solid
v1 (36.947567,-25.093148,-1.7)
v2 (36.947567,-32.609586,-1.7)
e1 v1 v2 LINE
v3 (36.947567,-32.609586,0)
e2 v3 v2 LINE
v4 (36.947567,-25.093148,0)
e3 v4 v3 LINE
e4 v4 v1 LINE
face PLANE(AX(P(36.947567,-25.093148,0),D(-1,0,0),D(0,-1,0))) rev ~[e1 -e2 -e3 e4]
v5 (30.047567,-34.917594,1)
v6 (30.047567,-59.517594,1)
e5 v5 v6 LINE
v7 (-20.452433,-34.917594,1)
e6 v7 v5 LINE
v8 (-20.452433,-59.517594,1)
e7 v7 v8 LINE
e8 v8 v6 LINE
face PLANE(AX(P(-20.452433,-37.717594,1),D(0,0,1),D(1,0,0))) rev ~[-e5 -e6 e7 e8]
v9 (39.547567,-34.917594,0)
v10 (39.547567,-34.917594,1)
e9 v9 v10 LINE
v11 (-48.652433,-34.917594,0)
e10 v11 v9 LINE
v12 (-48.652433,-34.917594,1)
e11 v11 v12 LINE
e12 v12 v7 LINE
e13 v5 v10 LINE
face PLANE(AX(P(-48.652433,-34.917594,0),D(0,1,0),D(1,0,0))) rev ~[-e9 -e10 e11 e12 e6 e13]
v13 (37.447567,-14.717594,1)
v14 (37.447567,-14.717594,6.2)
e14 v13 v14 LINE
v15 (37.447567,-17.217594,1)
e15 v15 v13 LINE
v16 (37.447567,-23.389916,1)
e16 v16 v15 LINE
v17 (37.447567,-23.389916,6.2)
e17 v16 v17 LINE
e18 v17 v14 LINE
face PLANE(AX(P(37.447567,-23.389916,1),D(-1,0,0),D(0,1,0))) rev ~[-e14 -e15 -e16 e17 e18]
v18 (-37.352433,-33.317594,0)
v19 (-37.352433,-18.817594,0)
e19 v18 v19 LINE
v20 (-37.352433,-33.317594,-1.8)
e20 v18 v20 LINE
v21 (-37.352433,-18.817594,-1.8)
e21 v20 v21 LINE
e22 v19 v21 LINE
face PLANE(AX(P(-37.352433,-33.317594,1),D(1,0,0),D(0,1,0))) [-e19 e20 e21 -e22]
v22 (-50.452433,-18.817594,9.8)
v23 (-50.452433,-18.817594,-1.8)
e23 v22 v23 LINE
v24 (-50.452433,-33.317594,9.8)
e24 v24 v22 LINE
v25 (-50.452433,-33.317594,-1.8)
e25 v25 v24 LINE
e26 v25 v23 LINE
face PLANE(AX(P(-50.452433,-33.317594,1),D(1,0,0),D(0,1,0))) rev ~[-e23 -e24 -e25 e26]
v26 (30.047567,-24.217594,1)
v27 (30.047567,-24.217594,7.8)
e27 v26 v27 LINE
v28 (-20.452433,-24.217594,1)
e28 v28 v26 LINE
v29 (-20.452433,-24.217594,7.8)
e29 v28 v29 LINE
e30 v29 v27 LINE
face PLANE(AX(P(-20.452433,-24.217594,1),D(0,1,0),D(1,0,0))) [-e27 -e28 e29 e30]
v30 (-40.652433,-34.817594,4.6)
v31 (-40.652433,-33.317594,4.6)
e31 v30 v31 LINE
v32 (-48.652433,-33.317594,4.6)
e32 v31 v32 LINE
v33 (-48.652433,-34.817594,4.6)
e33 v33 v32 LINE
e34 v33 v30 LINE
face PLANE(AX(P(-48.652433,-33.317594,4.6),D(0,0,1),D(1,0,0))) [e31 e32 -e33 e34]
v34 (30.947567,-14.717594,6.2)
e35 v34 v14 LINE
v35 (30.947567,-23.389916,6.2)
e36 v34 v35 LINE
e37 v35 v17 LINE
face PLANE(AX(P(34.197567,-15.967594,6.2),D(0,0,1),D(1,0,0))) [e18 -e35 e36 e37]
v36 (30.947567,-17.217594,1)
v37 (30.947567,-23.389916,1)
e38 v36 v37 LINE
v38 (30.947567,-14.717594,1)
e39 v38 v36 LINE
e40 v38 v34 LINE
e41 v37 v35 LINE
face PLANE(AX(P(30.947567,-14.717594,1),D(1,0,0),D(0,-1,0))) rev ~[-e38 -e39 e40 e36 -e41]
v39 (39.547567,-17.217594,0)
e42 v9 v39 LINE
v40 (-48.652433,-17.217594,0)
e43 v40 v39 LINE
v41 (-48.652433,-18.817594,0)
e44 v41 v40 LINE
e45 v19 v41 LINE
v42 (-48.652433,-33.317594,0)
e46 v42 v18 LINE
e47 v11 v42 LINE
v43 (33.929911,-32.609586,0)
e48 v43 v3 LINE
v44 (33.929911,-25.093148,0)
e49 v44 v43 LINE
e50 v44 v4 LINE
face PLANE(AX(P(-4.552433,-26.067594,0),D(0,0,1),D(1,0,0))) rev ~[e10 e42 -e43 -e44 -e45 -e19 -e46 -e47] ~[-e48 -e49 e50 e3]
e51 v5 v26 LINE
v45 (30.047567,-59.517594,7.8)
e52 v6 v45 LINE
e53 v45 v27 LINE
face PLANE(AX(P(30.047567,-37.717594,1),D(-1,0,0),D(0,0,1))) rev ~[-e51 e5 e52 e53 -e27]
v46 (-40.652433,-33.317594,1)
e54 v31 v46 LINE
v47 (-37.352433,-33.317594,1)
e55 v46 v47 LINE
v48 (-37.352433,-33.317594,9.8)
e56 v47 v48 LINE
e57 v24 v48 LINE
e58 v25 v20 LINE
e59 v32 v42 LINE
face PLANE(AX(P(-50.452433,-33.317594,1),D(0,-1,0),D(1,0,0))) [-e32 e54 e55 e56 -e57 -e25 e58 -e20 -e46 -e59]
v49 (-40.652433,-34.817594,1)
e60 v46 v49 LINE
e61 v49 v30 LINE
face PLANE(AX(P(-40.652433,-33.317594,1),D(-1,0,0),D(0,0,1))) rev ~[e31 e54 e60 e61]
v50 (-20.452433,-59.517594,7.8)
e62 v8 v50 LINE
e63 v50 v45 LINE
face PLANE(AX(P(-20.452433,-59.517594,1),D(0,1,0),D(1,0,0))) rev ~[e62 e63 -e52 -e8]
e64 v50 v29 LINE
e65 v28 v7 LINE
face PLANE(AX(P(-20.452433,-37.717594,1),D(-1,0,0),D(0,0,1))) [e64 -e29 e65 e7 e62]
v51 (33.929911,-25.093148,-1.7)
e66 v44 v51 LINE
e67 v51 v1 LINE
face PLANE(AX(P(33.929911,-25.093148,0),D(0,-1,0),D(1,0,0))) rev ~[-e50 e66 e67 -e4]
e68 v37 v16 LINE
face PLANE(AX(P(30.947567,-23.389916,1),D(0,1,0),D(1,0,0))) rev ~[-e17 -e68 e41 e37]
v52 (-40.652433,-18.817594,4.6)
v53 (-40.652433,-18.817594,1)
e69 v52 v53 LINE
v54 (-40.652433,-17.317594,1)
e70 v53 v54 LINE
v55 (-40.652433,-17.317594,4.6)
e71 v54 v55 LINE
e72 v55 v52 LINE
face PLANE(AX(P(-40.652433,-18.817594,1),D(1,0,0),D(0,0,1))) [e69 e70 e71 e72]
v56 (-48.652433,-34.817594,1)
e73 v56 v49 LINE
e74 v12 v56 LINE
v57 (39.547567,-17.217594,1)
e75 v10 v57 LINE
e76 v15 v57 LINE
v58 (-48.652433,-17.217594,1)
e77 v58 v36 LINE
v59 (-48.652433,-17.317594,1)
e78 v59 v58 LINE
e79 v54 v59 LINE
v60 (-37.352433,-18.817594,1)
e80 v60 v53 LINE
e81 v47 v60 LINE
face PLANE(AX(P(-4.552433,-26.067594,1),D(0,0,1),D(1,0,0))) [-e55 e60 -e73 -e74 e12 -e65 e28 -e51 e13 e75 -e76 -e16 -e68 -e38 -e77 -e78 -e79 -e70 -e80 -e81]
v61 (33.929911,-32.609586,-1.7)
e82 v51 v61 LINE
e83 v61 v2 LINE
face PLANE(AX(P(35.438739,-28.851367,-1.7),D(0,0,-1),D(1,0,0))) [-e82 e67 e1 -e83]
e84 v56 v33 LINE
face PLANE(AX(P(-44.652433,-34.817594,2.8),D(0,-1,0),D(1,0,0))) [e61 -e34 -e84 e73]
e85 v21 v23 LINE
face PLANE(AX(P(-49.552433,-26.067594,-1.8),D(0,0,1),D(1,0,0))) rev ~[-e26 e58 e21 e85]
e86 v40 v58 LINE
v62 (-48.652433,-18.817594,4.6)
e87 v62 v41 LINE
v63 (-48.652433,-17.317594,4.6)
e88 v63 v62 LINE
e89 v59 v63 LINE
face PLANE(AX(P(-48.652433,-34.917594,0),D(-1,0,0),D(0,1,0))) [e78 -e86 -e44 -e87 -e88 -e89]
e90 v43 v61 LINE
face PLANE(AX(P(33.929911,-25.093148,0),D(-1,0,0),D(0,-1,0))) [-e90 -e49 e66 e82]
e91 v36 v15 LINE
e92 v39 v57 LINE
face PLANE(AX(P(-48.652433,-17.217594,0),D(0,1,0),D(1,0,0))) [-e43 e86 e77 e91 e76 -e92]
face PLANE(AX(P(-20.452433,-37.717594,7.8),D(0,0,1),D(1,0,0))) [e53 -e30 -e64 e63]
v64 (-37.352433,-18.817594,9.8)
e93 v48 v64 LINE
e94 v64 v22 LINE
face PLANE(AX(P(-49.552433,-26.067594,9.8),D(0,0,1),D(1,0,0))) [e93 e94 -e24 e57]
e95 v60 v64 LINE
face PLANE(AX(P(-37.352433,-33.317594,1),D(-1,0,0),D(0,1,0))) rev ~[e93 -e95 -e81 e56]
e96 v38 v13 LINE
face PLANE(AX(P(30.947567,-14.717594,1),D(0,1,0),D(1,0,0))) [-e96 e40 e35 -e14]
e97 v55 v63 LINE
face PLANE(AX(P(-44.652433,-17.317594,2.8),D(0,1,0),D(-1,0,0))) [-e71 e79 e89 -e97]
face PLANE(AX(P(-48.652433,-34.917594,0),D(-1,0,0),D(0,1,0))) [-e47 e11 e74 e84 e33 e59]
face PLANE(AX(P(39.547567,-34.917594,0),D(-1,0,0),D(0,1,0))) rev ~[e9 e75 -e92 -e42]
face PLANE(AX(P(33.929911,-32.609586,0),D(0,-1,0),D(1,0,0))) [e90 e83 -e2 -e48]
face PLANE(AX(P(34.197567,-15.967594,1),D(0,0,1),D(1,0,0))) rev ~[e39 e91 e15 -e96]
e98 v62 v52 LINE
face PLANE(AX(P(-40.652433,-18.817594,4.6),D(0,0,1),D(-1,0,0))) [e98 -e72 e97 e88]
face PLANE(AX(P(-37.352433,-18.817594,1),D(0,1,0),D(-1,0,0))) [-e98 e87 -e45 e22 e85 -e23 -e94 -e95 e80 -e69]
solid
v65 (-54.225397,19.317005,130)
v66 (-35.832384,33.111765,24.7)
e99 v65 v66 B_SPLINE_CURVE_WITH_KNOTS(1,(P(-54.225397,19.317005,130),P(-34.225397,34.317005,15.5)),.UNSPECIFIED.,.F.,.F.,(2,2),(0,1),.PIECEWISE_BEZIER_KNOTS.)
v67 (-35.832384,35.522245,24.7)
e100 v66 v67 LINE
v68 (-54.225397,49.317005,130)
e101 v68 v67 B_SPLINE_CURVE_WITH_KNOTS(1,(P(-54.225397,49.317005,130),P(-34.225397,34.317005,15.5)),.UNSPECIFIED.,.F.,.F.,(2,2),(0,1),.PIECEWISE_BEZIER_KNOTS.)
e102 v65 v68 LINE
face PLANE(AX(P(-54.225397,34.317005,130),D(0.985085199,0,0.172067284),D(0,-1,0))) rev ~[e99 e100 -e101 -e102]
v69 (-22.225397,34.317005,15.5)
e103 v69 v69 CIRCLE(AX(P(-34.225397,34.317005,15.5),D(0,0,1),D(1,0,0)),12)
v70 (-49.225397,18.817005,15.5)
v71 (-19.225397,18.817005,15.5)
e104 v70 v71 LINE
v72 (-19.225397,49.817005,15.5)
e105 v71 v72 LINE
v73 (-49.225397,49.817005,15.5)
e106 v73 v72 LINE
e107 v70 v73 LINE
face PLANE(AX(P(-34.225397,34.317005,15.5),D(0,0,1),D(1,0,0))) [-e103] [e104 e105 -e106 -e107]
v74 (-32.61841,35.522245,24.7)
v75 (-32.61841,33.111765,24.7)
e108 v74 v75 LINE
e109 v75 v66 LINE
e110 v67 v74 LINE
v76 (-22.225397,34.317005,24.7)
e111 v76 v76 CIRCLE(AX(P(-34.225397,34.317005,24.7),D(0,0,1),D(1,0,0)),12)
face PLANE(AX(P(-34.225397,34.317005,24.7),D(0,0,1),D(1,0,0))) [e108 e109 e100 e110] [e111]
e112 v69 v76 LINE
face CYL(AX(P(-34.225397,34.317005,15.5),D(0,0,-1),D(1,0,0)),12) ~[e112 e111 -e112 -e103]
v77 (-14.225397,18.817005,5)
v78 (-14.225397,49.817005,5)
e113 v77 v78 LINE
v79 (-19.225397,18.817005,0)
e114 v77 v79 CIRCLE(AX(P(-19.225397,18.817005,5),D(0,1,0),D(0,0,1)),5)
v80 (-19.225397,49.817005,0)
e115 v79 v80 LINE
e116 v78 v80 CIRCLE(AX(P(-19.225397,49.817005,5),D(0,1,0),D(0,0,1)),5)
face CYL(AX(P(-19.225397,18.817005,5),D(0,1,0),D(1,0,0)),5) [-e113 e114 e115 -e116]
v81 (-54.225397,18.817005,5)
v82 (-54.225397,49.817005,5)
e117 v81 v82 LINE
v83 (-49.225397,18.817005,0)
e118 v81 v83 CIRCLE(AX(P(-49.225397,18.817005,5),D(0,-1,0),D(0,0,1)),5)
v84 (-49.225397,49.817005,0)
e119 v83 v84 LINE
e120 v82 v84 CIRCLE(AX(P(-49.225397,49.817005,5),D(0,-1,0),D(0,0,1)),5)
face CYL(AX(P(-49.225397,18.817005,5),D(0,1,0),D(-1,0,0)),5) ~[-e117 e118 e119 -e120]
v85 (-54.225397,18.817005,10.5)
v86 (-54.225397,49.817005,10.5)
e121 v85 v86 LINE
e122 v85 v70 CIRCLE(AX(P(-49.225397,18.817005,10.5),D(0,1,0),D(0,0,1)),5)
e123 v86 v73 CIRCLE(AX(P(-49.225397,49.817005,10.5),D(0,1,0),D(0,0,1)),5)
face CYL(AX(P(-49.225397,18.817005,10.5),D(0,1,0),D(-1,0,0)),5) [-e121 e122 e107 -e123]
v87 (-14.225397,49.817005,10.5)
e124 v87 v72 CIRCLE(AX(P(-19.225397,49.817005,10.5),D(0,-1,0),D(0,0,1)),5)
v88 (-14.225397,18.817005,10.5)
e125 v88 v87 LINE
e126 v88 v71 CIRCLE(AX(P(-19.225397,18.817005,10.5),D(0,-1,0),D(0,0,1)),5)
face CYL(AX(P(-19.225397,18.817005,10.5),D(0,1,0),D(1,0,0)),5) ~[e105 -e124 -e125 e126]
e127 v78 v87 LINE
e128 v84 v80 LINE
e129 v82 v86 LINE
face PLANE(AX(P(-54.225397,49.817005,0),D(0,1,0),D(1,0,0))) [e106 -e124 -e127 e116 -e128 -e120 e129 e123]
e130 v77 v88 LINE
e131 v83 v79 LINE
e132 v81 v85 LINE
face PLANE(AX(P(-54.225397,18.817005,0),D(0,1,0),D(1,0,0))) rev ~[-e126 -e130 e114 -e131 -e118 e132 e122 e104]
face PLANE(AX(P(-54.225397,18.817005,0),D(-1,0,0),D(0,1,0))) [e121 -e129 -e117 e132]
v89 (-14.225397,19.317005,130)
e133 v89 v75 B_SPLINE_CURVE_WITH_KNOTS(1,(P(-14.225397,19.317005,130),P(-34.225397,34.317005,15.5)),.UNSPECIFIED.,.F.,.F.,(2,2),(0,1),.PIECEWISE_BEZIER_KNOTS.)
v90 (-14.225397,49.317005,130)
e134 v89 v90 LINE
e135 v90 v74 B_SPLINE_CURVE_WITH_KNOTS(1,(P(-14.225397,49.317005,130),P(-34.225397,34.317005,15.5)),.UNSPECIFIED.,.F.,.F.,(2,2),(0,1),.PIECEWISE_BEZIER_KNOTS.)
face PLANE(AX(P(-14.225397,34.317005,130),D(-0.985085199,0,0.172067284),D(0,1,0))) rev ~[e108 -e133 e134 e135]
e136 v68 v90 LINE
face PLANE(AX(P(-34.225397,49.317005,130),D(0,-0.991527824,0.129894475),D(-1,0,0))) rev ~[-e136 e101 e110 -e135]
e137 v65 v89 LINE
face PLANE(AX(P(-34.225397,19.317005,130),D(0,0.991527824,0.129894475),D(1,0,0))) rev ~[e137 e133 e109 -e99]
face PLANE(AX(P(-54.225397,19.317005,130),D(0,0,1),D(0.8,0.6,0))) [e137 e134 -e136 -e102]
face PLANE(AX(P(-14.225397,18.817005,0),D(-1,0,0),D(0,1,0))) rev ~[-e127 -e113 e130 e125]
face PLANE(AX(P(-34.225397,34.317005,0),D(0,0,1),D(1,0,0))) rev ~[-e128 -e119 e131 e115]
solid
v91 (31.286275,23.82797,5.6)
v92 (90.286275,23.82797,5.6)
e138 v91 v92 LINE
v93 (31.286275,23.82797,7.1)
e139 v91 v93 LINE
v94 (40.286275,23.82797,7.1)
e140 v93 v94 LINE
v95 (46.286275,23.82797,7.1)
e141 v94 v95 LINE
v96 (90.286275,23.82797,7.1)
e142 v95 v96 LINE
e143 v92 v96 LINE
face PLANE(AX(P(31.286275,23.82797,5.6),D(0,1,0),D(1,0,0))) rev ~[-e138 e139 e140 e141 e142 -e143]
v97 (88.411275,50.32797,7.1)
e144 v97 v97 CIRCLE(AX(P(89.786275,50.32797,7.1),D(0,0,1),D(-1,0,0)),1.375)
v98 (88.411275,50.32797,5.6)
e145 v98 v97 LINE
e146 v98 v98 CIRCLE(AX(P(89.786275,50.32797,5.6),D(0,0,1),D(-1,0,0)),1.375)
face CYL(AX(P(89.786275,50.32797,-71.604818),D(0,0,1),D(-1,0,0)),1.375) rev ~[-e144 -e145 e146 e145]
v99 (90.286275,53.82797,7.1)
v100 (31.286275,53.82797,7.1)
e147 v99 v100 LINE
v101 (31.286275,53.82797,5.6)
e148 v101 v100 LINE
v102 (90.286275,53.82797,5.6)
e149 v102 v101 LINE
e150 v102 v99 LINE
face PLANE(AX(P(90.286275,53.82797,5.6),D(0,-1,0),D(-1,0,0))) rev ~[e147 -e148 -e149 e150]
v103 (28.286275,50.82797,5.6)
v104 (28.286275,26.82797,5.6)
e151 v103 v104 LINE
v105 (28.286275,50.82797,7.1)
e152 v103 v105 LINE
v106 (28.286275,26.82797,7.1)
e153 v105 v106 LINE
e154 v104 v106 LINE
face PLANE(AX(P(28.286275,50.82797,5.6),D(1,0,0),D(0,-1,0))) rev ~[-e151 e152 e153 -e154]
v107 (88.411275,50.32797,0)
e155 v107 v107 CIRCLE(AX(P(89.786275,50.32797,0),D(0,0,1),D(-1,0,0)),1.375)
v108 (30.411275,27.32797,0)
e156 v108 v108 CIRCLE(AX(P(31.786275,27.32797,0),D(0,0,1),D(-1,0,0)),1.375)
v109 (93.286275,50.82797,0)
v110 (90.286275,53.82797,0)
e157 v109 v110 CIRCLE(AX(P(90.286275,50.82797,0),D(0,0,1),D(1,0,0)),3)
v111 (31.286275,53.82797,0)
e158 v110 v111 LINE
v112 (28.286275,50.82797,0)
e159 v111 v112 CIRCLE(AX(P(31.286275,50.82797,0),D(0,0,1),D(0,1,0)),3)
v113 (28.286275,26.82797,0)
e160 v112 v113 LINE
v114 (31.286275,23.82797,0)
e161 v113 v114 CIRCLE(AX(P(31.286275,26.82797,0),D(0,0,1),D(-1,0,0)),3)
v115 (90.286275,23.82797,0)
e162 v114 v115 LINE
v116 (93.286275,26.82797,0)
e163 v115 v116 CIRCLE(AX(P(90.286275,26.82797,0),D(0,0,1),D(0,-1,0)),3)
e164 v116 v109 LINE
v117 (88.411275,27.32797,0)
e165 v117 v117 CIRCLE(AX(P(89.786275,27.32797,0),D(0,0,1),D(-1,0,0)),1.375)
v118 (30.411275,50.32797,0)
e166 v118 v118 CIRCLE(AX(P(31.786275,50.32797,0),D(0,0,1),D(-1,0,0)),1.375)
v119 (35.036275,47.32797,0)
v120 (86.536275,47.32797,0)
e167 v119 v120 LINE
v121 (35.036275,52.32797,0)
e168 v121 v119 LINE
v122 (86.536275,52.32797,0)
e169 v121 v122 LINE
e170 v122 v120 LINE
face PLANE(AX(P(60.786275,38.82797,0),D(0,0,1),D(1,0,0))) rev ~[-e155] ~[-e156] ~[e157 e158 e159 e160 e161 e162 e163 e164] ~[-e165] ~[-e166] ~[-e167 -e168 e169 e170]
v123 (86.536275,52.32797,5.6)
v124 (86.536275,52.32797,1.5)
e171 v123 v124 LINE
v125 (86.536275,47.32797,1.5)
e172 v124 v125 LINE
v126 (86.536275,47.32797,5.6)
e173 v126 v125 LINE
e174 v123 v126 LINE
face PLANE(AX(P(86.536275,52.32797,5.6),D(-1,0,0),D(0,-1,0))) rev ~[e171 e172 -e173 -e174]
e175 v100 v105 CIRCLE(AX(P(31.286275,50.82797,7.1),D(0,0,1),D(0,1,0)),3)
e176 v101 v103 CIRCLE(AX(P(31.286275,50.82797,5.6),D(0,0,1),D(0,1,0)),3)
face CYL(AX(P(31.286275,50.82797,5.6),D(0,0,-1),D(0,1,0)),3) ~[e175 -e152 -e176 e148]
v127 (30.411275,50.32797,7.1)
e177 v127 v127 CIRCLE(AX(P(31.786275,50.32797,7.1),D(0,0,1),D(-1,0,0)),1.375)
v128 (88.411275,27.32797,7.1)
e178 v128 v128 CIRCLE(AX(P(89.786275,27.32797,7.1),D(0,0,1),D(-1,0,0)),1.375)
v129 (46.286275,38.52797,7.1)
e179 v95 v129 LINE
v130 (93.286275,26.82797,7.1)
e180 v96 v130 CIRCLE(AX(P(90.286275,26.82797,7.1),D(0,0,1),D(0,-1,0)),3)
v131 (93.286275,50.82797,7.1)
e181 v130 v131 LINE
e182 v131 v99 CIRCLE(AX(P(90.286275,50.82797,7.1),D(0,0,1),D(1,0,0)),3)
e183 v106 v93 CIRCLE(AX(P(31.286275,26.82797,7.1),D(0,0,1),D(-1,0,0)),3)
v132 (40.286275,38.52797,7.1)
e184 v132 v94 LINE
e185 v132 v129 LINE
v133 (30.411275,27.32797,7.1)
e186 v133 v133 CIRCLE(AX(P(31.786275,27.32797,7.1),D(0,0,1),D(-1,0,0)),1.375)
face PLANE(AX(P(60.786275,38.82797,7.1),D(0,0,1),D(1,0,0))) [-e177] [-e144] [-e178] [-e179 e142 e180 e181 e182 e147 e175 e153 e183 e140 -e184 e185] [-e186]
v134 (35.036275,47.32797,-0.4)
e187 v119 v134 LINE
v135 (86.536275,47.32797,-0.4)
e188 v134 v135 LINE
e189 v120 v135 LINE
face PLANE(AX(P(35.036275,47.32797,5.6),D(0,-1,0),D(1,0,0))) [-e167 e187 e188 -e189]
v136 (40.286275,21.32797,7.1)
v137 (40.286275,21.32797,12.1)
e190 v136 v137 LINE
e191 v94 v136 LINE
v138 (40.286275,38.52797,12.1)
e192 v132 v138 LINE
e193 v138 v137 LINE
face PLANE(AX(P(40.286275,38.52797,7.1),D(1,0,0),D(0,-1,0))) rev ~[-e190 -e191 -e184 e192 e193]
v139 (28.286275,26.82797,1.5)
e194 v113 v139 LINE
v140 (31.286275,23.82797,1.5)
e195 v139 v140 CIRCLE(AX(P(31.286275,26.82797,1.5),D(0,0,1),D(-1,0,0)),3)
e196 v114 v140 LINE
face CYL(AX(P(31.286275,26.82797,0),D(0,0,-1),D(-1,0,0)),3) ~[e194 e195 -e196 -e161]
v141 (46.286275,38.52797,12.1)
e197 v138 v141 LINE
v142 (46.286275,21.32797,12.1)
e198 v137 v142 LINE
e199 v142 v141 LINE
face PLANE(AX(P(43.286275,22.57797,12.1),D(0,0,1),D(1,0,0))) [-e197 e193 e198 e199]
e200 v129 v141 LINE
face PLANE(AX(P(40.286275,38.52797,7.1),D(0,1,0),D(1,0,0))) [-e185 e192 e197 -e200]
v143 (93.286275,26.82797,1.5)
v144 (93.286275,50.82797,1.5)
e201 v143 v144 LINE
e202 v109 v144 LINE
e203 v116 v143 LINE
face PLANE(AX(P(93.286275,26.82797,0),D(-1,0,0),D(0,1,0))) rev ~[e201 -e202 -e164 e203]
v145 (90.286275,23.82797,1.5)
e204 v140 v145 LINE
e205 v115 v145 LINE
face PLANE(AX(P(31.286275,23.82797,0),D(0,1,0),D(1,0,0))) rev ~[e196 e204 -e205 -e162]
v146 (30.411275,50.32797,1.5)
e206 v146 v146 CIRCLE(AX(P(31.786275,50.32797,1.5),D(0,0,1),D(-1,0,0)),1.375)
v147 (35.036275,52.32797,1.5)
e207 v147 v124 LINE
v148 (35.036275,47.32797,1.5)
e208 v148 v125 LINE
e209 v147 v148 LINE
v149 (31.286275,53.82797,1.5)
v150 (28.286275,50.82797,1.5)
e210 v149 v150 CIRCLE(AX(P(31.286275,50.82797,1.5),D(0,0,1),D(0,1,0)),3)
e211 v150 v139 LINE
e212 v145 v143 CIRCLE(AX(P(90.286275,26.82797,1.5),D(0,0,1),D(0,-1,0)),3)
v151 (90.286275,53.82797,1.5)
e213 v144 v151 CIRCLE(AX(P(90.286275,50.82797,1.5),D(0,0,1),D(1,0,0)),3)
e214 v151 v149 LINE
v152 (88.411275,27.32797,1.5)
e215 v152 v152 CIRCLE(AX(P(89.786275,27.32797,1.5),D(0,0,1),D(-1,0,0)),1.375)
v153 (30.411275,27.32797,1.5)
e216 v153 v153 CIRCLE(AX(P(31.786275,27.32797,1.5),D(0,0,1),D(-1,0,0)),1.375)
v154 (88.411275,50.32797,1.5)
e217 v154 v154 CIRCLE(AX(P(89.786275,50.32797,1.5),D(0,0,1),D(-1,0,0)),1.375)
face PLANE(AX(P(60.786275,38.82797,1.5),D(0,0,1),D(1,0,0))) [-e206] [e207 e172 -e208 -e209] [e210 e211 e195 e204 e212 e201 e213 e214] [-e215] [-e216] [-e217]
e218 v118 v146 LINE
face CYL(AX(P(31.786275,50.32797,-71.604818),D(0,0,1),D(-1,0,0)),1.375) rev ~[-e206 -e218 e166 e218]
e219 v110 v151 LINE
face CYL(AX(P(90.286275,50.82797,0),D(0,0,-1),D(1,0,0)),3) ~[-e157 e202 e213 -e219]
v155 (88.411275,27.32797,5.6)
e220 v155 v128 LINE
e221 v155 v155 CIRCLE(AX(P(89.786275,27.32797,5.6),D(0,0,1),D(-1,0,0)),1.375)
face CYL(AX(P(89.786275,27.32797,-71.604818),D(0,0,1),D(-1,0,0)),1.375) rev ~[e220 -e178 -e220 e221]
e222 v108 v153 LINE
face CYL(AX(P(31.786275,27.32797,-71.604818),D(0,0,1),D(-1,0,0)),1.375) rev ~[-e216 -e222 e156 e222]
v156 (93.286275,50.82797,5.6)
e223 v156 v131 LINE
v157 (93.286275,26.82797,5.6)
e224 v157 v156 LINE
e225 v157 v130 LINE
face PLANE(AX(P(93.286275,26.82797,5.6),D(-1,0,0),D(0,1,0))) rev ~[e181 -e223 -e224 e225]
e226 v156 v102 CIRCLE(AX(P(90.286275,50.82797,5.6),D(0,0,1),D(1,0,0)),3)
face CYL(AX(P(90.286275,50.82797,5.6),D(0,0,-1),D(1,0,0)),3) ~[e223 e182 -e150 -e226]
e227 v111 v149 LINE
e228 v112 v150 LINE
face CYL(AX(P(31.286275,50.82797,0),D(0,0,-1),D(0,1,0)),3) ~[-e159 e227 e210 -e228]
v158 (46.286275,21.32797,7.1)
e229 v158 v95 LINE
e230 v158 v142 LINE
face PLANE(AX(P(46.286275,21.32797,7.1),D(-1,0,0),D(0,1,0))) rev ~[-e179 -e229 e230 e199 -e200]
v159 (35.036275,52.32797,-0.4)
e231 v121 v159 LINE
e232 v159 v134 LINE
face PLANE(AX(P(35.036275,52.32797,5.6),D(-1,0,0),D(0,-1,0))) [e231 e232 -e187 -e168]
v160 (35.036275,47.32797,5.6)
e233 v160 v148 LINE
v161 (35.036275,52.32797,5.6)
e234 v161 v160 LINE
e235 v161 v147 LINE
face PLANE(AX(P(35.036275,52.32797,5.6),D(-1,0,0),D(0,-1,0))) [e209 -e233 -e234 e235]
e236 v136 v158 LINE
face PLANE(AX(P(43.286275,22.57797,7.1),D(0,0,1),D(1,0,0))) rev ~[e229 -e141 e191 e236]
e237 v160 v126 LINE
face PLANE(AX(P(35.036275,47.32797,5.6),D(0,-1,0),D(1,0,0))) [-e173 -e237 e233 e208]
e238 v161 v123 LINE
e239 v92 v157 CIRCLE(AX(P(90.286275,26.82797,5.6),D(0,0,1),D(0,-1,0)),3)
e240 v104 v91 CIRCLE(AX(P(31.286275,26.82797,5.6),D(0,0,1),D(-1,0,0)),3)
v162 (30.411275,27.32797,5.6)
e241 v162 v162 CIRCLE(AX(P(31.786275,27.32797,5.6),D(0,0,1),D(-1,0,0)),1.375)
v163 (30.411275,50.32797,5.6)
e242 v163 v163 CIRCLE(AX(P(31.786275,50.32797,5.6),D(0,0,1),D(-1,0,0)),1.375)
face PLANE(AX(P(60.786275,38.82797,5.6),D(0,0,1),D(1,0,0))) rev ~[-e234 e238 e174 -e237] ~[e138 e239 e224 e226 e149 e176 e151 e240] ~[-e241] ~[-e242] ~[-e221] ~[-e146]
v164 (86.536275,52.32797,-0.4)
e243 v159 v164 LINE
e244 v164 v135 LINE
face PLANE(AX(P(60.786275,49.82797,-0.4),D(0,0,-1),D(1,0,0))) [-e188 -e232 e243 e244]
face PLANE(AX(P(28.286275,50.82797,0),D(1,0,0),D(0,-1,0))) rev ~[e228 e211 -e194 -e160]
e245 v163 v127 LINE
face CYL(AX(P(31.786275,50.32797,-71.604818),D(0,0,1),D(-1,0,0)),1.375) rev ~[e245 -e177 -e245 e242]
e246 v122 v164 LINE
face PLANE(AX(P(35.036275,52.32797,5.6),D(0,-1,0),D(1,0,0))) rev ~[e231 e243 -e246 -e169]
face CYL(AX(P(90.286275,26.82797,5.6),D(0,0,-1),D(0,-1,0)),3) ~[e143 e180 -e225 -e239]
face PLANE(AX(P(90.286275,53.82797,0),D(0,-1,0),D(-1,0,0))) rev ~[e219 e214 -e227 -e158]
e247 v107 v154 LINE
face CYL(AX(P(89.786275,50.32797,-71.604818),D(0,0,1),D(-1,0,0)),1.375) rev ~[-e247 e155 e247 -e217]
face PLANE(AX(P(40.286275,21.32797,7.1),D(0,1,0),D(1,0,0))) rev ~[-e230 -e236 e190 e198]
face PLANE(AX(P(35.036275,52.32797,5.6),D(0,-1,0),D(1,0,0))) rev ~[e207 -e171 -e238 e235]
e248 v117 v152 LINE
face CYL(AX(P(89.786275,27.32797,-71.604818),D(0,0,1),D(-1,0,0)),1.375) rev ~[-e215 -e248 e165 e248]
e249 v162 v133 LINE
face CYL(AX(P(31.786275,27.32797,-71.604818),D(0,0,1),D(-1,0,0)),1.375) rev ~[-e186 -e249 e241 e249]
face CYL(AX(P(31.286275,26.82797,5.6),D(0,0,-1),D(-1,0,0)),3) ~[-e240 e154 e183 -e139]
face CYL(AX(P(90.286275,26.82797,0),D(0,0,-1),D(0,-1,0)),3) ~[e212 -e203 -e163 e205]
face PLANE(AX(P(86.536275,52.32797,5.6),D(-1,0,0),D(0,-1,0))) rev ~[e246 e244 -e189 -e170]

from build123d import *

# Parameters (mm, degrees)
F0_W      = 40
F0_H      = 31
F1_DEPTH  = 15.5
F2_R      = 5
F3_R      = 12
F4_DEPTH  = 9.2
F5_W      = 88.2
F5_H      = 17.7
F6_DEPTH  = 1
F7_W      = 50.5
F7_H      = 2.8
F7_H_2    = 10.7
F8_DEPTH  = 6.8
F9_DEPTH  = 21.8
F10_W     = 1.8
F10_H     = 14.5
F10_W_2   = 11.3
F11_DEPTH = 8.8
F12_DEPTH = 2.8
F13_W     = 6.5
F13_H     = 2.5
F13_H_2   = 6.1723221527
F14_DEPTH = 5.2
F15_W     = 3.0176565558
F15_H     = 7.5164381415
F16_DEPTH = 1.7
F18_DEPTH = 1.5
F21_DEPTH = 1.5
F22_D     = 2.75
F22_2_D   = 2.75
F23_W     = 51.5
F23_H     = 5
F24_DEPTH = 6
F25_W     = 6
F25_H     = 2.5
F25_H_2   = 14.7
F26_DEPTH = 5
F30_W     = 40
F30_H     = 30
F32_W     = 8
F32_H     = 3.6
F33_W     = 8
F33_H     = 3.6
F34_DEPTH = 1.5


with BuildPart() as f1:
    # F0 (on Top) → F1 (new body)
    with BuildSketch(Plane.XY):
        with Locations((-34.2253973186, 34.3170047009)):
            Rectangle(F0_W, F0_H)
    extrude(amount=F1_DEPTH)

    # F2
    f2_edges = [f1.edges().sort_by_distance(p)[0] for p in [
        (-14.225397, 34.317005, 15.5),
        (-54.225397, 34.317005, 15.5),
        (-54.225397, 34.317005, 0),
        (-14.225397, 34.317005, 0),
    ]]
    fillet(f2_edges, radius=F2_R)

    # F3 (on face) → F4 (join)
    with BuildSketch(Plane.XY.offset(15.5)):
        with Locations((-34.2253973186, 34.3170047009)):
            Circle(F3_R)
    extrude(amount=F4_DEPTH)

    # F30 (on offset) → F31 section 0
    with BuildSketch(Plane.XY.offset(130), mode=Mode.PRIVATE) as f31_s0:
        with Locations((-34.2253973186, 34.3170047009)):
            Rectangle(F30_W, F30_H)
    loft([f31_s0.sketch, Vertex(-34.2253973186, 34.3170047009, 15.5)])


with BuildPart() as f6:
    # F5 (on Top) → F6 (new body)
    with BuildSketch(Plane.XY):
        with Locations((-4.5524329334, -26.0675935584)):
            Rectangle(F5_W, F5_H)
    extrude(amount=F6_DEPTH)

    # F7 (on face) → F8 (join)
    with BuildSketch(Plane.XY.offset(1)):
        with Locations((4.7975670666, -36.3175935584)):
            Rectangle(F7_W, F7_H)
        with Locations((4.7975670666, -29.5675935584)):
            Rectangle(F7_W, F7_H_2)
    extrude(amount=F8_DEPTH)

    # F9 (add): a face of the model
    f9_faces = [f6.faces().sort_by_distance(p)[0] for p in [
        (4.7975670666, -37.7175935584, 4.4),
    ]]
    extrude(f9_faces, amount=F9_DEPTH)

    # F10 (on face) → F11 (join)
    with BuildSketch(Plane.XY.offset(1)):
        with Locations((-49.5524329334, -26.0675935584)):
            Rectangle(F10_W, F10_H)
        with Locations((-43.0024329334, -26.0675935584)):
            Rectangle(F10_W_2, F10_H)
    extrude(amount=F11_DEPTH)

    # F10 (on face) → F12 (join)
    with BuildSketch(Plane.XY.offset(1)):
        with Locations((-49.5524329334, -26.0675935584)):
            Rectangle(F10_W, F10_H)
        with Locations((-43.0024329334, -26.0675935584)):
            Rectangle(F10_W_2, F10_H)
    extrude(amount=-F12_DEPTH)

    # F13 (on face) → F14 (join)
    with BuildSketch(Plane.XY.offset(1)):
        with Locations((34.1975670666, -15.9675935584)):
            Rectangle(F13_W, F13_H)
        with Locations((34.1975670666, -20.3037546347)):
            Rectangle(F13_W, F13_H_2)
    extrude(amount=F14_DEPTH)

    # F15 (on face) → F16 (join)
    with BuildSketch(Plane(origin=(0, 0, 0), x_dir=(1, 0, 0), z_dir=(0, 0, -1))):
        with Locations((35.4387387887, 28.8513666019)):
            Rectangle(F15_W, F15_H)
    extrude(amount=F16_DEPTH)

    # F32 (on face) + F33 (on face) → F34 (join, symmetric)
    with BuildSketch(Plane.XZ.offset(33.3175935584)):
        with Locations((-44.6524329334, 2.8)):
            Rectangle(F32_W, F32_H)
    with BuildSketch(Plane(origin=(0, -18.8175935584, 0), x_dir=(-1, 0, 0), z_dir=(0, 1, 0))):
        with Locations((44.6524329334, 2.8)):
            Rectangle(F33_W, F33_H)
    extrude(amount=F34_DEPTH, both=True, dir=(0, -1, 0))


with BuildPart() as f18:
    # F17 (on Top) → F18 (new body)
    with BuildSketch(Plane.XY):
        with BuildLine():
            Line((90.2862745896, 53.8279704224), (31.2862745896, 53.8279704224))
            ThreePointArc((31.2862745896, 53.8279704224), (29.164954246, 52.949290766), (28.2862745896, 50.8279704224))
            Line((28.2862745896, 50.8279704224), (28.2862745896, 26.8279704224))
            ThreePointArc((28.2862745896, 26.8279704224), (29.164954246, 24.7066500788), (31.2862745896, 23.8279704224))
            Line((31.2862745896, 23.8279704224), (90.2862745896, 23.8279704224))
            ThreePointArc((90.2862745896, 23.8279704224), (92.4075949332, 24.7066500788), (93.2862745896, 26.8279704224))
            Line((93.2862745896, 26.8279704224), (93.2862745896, 50.8279704224))
            ThreePointArc((93.2862745896, 50.8279704224), (92.4075949332, 52.949290766), (90.2862745896, 53.8279704224))
        make_face()
    extrude(amount=F18_DEPTH)

    # F22 (through all)
    with Locations(Plane(origin=(0, 0, 0), x_dir=(1, 0, 0), z_dir=(0, 0, -1))):
        with Locations((31.7862745896, -50.3279704224), (31.7862745896, -27.3279704224), (89.7862745896, -27.3279704224), (89.7862745896, -50.3279704224)):
            Hole(F22_D / 2)



with BuildPart() as f21:
    # F20 (on offset) → F21 (new body)
    with BuildSketch(Plane.XY.offset(5.6)):
        with BuildLine():
            Line((90.2862745896, 53.8279704224), (31.2862745896, 53.8279704224))
            ThreePointArc((31.2862745896, 53.8279704224), (29.164954246, 52.949290766), (28.2862745896, 50.8279704224))
            Line((28.2862745896, 50.8279704224), (28.2862745896, 26.8279704224))
            ThreePointArc((28.2862745896, 26.8279704224), (29.164954246, 24.7066500788), (31.2862745896, 23.8279704224))
            Line((31.2862745896, 23.8279704224), (90.2862745896, 23.8279704224))
            ThreePointArc((90.2862745896, 23.8279704224), (92.4075949332, 24.7066500788), (93.2862745896, 26.8279704224))
            Line((93.2862745896, 26.8279704224), (93.2862745896, 50.8279704224))
            ThreePointArc((93.2862745896, 50.8279704224), (92.4075949332, 52.949290766), (90.2862745896, 53.8279704224))
        make_face()
    extrude(amount=F21_DEPTH)

    # F22#2 (through all)
    with Locations(Plane(origin=(0, 0, 0), x_dir=(1, 0, 0), z_dir=(0, 0, -1))):
        with Locations((31.7862745896, -50.3279704224), (31.7862745896, -27.3279704224), (89.7862745896, -27.3279704224), (89.7862745896, -50.3279704224)):
            Hole(F22_2_D / 2)


with BuildPart() as f18_1:
    add(f18.part)

    add(f21.part)  # F24 merges F21
    # F23 (on face) → F24 (join)
    with BuildSketch(Plane(origin=(0, 0, 5.6), x_dir=(1, 0, 0), z_dir=(0, 0, -1))):
        with Locations((60.7862745896, -49.8279704224)):
            Rectangle(F23_W, F23_H)
    extrude(amount=F24_DEPTH)

    # F25 (on face) → F26 (join)
    with BuildSketch(Plane.XY.offset(7.1)):
        with Locations((43.2862745896, 22.5779704224)):
            Rectangle(F25_W, F25_H)
        with Locations((43.2862745896, 31.1779704224)):
            Rectangle(F25_W, F25_H_2)
    extrude(amount=F26_DEPTH)


solid = Compound([f1.part, f6.part, f18_1.part])
